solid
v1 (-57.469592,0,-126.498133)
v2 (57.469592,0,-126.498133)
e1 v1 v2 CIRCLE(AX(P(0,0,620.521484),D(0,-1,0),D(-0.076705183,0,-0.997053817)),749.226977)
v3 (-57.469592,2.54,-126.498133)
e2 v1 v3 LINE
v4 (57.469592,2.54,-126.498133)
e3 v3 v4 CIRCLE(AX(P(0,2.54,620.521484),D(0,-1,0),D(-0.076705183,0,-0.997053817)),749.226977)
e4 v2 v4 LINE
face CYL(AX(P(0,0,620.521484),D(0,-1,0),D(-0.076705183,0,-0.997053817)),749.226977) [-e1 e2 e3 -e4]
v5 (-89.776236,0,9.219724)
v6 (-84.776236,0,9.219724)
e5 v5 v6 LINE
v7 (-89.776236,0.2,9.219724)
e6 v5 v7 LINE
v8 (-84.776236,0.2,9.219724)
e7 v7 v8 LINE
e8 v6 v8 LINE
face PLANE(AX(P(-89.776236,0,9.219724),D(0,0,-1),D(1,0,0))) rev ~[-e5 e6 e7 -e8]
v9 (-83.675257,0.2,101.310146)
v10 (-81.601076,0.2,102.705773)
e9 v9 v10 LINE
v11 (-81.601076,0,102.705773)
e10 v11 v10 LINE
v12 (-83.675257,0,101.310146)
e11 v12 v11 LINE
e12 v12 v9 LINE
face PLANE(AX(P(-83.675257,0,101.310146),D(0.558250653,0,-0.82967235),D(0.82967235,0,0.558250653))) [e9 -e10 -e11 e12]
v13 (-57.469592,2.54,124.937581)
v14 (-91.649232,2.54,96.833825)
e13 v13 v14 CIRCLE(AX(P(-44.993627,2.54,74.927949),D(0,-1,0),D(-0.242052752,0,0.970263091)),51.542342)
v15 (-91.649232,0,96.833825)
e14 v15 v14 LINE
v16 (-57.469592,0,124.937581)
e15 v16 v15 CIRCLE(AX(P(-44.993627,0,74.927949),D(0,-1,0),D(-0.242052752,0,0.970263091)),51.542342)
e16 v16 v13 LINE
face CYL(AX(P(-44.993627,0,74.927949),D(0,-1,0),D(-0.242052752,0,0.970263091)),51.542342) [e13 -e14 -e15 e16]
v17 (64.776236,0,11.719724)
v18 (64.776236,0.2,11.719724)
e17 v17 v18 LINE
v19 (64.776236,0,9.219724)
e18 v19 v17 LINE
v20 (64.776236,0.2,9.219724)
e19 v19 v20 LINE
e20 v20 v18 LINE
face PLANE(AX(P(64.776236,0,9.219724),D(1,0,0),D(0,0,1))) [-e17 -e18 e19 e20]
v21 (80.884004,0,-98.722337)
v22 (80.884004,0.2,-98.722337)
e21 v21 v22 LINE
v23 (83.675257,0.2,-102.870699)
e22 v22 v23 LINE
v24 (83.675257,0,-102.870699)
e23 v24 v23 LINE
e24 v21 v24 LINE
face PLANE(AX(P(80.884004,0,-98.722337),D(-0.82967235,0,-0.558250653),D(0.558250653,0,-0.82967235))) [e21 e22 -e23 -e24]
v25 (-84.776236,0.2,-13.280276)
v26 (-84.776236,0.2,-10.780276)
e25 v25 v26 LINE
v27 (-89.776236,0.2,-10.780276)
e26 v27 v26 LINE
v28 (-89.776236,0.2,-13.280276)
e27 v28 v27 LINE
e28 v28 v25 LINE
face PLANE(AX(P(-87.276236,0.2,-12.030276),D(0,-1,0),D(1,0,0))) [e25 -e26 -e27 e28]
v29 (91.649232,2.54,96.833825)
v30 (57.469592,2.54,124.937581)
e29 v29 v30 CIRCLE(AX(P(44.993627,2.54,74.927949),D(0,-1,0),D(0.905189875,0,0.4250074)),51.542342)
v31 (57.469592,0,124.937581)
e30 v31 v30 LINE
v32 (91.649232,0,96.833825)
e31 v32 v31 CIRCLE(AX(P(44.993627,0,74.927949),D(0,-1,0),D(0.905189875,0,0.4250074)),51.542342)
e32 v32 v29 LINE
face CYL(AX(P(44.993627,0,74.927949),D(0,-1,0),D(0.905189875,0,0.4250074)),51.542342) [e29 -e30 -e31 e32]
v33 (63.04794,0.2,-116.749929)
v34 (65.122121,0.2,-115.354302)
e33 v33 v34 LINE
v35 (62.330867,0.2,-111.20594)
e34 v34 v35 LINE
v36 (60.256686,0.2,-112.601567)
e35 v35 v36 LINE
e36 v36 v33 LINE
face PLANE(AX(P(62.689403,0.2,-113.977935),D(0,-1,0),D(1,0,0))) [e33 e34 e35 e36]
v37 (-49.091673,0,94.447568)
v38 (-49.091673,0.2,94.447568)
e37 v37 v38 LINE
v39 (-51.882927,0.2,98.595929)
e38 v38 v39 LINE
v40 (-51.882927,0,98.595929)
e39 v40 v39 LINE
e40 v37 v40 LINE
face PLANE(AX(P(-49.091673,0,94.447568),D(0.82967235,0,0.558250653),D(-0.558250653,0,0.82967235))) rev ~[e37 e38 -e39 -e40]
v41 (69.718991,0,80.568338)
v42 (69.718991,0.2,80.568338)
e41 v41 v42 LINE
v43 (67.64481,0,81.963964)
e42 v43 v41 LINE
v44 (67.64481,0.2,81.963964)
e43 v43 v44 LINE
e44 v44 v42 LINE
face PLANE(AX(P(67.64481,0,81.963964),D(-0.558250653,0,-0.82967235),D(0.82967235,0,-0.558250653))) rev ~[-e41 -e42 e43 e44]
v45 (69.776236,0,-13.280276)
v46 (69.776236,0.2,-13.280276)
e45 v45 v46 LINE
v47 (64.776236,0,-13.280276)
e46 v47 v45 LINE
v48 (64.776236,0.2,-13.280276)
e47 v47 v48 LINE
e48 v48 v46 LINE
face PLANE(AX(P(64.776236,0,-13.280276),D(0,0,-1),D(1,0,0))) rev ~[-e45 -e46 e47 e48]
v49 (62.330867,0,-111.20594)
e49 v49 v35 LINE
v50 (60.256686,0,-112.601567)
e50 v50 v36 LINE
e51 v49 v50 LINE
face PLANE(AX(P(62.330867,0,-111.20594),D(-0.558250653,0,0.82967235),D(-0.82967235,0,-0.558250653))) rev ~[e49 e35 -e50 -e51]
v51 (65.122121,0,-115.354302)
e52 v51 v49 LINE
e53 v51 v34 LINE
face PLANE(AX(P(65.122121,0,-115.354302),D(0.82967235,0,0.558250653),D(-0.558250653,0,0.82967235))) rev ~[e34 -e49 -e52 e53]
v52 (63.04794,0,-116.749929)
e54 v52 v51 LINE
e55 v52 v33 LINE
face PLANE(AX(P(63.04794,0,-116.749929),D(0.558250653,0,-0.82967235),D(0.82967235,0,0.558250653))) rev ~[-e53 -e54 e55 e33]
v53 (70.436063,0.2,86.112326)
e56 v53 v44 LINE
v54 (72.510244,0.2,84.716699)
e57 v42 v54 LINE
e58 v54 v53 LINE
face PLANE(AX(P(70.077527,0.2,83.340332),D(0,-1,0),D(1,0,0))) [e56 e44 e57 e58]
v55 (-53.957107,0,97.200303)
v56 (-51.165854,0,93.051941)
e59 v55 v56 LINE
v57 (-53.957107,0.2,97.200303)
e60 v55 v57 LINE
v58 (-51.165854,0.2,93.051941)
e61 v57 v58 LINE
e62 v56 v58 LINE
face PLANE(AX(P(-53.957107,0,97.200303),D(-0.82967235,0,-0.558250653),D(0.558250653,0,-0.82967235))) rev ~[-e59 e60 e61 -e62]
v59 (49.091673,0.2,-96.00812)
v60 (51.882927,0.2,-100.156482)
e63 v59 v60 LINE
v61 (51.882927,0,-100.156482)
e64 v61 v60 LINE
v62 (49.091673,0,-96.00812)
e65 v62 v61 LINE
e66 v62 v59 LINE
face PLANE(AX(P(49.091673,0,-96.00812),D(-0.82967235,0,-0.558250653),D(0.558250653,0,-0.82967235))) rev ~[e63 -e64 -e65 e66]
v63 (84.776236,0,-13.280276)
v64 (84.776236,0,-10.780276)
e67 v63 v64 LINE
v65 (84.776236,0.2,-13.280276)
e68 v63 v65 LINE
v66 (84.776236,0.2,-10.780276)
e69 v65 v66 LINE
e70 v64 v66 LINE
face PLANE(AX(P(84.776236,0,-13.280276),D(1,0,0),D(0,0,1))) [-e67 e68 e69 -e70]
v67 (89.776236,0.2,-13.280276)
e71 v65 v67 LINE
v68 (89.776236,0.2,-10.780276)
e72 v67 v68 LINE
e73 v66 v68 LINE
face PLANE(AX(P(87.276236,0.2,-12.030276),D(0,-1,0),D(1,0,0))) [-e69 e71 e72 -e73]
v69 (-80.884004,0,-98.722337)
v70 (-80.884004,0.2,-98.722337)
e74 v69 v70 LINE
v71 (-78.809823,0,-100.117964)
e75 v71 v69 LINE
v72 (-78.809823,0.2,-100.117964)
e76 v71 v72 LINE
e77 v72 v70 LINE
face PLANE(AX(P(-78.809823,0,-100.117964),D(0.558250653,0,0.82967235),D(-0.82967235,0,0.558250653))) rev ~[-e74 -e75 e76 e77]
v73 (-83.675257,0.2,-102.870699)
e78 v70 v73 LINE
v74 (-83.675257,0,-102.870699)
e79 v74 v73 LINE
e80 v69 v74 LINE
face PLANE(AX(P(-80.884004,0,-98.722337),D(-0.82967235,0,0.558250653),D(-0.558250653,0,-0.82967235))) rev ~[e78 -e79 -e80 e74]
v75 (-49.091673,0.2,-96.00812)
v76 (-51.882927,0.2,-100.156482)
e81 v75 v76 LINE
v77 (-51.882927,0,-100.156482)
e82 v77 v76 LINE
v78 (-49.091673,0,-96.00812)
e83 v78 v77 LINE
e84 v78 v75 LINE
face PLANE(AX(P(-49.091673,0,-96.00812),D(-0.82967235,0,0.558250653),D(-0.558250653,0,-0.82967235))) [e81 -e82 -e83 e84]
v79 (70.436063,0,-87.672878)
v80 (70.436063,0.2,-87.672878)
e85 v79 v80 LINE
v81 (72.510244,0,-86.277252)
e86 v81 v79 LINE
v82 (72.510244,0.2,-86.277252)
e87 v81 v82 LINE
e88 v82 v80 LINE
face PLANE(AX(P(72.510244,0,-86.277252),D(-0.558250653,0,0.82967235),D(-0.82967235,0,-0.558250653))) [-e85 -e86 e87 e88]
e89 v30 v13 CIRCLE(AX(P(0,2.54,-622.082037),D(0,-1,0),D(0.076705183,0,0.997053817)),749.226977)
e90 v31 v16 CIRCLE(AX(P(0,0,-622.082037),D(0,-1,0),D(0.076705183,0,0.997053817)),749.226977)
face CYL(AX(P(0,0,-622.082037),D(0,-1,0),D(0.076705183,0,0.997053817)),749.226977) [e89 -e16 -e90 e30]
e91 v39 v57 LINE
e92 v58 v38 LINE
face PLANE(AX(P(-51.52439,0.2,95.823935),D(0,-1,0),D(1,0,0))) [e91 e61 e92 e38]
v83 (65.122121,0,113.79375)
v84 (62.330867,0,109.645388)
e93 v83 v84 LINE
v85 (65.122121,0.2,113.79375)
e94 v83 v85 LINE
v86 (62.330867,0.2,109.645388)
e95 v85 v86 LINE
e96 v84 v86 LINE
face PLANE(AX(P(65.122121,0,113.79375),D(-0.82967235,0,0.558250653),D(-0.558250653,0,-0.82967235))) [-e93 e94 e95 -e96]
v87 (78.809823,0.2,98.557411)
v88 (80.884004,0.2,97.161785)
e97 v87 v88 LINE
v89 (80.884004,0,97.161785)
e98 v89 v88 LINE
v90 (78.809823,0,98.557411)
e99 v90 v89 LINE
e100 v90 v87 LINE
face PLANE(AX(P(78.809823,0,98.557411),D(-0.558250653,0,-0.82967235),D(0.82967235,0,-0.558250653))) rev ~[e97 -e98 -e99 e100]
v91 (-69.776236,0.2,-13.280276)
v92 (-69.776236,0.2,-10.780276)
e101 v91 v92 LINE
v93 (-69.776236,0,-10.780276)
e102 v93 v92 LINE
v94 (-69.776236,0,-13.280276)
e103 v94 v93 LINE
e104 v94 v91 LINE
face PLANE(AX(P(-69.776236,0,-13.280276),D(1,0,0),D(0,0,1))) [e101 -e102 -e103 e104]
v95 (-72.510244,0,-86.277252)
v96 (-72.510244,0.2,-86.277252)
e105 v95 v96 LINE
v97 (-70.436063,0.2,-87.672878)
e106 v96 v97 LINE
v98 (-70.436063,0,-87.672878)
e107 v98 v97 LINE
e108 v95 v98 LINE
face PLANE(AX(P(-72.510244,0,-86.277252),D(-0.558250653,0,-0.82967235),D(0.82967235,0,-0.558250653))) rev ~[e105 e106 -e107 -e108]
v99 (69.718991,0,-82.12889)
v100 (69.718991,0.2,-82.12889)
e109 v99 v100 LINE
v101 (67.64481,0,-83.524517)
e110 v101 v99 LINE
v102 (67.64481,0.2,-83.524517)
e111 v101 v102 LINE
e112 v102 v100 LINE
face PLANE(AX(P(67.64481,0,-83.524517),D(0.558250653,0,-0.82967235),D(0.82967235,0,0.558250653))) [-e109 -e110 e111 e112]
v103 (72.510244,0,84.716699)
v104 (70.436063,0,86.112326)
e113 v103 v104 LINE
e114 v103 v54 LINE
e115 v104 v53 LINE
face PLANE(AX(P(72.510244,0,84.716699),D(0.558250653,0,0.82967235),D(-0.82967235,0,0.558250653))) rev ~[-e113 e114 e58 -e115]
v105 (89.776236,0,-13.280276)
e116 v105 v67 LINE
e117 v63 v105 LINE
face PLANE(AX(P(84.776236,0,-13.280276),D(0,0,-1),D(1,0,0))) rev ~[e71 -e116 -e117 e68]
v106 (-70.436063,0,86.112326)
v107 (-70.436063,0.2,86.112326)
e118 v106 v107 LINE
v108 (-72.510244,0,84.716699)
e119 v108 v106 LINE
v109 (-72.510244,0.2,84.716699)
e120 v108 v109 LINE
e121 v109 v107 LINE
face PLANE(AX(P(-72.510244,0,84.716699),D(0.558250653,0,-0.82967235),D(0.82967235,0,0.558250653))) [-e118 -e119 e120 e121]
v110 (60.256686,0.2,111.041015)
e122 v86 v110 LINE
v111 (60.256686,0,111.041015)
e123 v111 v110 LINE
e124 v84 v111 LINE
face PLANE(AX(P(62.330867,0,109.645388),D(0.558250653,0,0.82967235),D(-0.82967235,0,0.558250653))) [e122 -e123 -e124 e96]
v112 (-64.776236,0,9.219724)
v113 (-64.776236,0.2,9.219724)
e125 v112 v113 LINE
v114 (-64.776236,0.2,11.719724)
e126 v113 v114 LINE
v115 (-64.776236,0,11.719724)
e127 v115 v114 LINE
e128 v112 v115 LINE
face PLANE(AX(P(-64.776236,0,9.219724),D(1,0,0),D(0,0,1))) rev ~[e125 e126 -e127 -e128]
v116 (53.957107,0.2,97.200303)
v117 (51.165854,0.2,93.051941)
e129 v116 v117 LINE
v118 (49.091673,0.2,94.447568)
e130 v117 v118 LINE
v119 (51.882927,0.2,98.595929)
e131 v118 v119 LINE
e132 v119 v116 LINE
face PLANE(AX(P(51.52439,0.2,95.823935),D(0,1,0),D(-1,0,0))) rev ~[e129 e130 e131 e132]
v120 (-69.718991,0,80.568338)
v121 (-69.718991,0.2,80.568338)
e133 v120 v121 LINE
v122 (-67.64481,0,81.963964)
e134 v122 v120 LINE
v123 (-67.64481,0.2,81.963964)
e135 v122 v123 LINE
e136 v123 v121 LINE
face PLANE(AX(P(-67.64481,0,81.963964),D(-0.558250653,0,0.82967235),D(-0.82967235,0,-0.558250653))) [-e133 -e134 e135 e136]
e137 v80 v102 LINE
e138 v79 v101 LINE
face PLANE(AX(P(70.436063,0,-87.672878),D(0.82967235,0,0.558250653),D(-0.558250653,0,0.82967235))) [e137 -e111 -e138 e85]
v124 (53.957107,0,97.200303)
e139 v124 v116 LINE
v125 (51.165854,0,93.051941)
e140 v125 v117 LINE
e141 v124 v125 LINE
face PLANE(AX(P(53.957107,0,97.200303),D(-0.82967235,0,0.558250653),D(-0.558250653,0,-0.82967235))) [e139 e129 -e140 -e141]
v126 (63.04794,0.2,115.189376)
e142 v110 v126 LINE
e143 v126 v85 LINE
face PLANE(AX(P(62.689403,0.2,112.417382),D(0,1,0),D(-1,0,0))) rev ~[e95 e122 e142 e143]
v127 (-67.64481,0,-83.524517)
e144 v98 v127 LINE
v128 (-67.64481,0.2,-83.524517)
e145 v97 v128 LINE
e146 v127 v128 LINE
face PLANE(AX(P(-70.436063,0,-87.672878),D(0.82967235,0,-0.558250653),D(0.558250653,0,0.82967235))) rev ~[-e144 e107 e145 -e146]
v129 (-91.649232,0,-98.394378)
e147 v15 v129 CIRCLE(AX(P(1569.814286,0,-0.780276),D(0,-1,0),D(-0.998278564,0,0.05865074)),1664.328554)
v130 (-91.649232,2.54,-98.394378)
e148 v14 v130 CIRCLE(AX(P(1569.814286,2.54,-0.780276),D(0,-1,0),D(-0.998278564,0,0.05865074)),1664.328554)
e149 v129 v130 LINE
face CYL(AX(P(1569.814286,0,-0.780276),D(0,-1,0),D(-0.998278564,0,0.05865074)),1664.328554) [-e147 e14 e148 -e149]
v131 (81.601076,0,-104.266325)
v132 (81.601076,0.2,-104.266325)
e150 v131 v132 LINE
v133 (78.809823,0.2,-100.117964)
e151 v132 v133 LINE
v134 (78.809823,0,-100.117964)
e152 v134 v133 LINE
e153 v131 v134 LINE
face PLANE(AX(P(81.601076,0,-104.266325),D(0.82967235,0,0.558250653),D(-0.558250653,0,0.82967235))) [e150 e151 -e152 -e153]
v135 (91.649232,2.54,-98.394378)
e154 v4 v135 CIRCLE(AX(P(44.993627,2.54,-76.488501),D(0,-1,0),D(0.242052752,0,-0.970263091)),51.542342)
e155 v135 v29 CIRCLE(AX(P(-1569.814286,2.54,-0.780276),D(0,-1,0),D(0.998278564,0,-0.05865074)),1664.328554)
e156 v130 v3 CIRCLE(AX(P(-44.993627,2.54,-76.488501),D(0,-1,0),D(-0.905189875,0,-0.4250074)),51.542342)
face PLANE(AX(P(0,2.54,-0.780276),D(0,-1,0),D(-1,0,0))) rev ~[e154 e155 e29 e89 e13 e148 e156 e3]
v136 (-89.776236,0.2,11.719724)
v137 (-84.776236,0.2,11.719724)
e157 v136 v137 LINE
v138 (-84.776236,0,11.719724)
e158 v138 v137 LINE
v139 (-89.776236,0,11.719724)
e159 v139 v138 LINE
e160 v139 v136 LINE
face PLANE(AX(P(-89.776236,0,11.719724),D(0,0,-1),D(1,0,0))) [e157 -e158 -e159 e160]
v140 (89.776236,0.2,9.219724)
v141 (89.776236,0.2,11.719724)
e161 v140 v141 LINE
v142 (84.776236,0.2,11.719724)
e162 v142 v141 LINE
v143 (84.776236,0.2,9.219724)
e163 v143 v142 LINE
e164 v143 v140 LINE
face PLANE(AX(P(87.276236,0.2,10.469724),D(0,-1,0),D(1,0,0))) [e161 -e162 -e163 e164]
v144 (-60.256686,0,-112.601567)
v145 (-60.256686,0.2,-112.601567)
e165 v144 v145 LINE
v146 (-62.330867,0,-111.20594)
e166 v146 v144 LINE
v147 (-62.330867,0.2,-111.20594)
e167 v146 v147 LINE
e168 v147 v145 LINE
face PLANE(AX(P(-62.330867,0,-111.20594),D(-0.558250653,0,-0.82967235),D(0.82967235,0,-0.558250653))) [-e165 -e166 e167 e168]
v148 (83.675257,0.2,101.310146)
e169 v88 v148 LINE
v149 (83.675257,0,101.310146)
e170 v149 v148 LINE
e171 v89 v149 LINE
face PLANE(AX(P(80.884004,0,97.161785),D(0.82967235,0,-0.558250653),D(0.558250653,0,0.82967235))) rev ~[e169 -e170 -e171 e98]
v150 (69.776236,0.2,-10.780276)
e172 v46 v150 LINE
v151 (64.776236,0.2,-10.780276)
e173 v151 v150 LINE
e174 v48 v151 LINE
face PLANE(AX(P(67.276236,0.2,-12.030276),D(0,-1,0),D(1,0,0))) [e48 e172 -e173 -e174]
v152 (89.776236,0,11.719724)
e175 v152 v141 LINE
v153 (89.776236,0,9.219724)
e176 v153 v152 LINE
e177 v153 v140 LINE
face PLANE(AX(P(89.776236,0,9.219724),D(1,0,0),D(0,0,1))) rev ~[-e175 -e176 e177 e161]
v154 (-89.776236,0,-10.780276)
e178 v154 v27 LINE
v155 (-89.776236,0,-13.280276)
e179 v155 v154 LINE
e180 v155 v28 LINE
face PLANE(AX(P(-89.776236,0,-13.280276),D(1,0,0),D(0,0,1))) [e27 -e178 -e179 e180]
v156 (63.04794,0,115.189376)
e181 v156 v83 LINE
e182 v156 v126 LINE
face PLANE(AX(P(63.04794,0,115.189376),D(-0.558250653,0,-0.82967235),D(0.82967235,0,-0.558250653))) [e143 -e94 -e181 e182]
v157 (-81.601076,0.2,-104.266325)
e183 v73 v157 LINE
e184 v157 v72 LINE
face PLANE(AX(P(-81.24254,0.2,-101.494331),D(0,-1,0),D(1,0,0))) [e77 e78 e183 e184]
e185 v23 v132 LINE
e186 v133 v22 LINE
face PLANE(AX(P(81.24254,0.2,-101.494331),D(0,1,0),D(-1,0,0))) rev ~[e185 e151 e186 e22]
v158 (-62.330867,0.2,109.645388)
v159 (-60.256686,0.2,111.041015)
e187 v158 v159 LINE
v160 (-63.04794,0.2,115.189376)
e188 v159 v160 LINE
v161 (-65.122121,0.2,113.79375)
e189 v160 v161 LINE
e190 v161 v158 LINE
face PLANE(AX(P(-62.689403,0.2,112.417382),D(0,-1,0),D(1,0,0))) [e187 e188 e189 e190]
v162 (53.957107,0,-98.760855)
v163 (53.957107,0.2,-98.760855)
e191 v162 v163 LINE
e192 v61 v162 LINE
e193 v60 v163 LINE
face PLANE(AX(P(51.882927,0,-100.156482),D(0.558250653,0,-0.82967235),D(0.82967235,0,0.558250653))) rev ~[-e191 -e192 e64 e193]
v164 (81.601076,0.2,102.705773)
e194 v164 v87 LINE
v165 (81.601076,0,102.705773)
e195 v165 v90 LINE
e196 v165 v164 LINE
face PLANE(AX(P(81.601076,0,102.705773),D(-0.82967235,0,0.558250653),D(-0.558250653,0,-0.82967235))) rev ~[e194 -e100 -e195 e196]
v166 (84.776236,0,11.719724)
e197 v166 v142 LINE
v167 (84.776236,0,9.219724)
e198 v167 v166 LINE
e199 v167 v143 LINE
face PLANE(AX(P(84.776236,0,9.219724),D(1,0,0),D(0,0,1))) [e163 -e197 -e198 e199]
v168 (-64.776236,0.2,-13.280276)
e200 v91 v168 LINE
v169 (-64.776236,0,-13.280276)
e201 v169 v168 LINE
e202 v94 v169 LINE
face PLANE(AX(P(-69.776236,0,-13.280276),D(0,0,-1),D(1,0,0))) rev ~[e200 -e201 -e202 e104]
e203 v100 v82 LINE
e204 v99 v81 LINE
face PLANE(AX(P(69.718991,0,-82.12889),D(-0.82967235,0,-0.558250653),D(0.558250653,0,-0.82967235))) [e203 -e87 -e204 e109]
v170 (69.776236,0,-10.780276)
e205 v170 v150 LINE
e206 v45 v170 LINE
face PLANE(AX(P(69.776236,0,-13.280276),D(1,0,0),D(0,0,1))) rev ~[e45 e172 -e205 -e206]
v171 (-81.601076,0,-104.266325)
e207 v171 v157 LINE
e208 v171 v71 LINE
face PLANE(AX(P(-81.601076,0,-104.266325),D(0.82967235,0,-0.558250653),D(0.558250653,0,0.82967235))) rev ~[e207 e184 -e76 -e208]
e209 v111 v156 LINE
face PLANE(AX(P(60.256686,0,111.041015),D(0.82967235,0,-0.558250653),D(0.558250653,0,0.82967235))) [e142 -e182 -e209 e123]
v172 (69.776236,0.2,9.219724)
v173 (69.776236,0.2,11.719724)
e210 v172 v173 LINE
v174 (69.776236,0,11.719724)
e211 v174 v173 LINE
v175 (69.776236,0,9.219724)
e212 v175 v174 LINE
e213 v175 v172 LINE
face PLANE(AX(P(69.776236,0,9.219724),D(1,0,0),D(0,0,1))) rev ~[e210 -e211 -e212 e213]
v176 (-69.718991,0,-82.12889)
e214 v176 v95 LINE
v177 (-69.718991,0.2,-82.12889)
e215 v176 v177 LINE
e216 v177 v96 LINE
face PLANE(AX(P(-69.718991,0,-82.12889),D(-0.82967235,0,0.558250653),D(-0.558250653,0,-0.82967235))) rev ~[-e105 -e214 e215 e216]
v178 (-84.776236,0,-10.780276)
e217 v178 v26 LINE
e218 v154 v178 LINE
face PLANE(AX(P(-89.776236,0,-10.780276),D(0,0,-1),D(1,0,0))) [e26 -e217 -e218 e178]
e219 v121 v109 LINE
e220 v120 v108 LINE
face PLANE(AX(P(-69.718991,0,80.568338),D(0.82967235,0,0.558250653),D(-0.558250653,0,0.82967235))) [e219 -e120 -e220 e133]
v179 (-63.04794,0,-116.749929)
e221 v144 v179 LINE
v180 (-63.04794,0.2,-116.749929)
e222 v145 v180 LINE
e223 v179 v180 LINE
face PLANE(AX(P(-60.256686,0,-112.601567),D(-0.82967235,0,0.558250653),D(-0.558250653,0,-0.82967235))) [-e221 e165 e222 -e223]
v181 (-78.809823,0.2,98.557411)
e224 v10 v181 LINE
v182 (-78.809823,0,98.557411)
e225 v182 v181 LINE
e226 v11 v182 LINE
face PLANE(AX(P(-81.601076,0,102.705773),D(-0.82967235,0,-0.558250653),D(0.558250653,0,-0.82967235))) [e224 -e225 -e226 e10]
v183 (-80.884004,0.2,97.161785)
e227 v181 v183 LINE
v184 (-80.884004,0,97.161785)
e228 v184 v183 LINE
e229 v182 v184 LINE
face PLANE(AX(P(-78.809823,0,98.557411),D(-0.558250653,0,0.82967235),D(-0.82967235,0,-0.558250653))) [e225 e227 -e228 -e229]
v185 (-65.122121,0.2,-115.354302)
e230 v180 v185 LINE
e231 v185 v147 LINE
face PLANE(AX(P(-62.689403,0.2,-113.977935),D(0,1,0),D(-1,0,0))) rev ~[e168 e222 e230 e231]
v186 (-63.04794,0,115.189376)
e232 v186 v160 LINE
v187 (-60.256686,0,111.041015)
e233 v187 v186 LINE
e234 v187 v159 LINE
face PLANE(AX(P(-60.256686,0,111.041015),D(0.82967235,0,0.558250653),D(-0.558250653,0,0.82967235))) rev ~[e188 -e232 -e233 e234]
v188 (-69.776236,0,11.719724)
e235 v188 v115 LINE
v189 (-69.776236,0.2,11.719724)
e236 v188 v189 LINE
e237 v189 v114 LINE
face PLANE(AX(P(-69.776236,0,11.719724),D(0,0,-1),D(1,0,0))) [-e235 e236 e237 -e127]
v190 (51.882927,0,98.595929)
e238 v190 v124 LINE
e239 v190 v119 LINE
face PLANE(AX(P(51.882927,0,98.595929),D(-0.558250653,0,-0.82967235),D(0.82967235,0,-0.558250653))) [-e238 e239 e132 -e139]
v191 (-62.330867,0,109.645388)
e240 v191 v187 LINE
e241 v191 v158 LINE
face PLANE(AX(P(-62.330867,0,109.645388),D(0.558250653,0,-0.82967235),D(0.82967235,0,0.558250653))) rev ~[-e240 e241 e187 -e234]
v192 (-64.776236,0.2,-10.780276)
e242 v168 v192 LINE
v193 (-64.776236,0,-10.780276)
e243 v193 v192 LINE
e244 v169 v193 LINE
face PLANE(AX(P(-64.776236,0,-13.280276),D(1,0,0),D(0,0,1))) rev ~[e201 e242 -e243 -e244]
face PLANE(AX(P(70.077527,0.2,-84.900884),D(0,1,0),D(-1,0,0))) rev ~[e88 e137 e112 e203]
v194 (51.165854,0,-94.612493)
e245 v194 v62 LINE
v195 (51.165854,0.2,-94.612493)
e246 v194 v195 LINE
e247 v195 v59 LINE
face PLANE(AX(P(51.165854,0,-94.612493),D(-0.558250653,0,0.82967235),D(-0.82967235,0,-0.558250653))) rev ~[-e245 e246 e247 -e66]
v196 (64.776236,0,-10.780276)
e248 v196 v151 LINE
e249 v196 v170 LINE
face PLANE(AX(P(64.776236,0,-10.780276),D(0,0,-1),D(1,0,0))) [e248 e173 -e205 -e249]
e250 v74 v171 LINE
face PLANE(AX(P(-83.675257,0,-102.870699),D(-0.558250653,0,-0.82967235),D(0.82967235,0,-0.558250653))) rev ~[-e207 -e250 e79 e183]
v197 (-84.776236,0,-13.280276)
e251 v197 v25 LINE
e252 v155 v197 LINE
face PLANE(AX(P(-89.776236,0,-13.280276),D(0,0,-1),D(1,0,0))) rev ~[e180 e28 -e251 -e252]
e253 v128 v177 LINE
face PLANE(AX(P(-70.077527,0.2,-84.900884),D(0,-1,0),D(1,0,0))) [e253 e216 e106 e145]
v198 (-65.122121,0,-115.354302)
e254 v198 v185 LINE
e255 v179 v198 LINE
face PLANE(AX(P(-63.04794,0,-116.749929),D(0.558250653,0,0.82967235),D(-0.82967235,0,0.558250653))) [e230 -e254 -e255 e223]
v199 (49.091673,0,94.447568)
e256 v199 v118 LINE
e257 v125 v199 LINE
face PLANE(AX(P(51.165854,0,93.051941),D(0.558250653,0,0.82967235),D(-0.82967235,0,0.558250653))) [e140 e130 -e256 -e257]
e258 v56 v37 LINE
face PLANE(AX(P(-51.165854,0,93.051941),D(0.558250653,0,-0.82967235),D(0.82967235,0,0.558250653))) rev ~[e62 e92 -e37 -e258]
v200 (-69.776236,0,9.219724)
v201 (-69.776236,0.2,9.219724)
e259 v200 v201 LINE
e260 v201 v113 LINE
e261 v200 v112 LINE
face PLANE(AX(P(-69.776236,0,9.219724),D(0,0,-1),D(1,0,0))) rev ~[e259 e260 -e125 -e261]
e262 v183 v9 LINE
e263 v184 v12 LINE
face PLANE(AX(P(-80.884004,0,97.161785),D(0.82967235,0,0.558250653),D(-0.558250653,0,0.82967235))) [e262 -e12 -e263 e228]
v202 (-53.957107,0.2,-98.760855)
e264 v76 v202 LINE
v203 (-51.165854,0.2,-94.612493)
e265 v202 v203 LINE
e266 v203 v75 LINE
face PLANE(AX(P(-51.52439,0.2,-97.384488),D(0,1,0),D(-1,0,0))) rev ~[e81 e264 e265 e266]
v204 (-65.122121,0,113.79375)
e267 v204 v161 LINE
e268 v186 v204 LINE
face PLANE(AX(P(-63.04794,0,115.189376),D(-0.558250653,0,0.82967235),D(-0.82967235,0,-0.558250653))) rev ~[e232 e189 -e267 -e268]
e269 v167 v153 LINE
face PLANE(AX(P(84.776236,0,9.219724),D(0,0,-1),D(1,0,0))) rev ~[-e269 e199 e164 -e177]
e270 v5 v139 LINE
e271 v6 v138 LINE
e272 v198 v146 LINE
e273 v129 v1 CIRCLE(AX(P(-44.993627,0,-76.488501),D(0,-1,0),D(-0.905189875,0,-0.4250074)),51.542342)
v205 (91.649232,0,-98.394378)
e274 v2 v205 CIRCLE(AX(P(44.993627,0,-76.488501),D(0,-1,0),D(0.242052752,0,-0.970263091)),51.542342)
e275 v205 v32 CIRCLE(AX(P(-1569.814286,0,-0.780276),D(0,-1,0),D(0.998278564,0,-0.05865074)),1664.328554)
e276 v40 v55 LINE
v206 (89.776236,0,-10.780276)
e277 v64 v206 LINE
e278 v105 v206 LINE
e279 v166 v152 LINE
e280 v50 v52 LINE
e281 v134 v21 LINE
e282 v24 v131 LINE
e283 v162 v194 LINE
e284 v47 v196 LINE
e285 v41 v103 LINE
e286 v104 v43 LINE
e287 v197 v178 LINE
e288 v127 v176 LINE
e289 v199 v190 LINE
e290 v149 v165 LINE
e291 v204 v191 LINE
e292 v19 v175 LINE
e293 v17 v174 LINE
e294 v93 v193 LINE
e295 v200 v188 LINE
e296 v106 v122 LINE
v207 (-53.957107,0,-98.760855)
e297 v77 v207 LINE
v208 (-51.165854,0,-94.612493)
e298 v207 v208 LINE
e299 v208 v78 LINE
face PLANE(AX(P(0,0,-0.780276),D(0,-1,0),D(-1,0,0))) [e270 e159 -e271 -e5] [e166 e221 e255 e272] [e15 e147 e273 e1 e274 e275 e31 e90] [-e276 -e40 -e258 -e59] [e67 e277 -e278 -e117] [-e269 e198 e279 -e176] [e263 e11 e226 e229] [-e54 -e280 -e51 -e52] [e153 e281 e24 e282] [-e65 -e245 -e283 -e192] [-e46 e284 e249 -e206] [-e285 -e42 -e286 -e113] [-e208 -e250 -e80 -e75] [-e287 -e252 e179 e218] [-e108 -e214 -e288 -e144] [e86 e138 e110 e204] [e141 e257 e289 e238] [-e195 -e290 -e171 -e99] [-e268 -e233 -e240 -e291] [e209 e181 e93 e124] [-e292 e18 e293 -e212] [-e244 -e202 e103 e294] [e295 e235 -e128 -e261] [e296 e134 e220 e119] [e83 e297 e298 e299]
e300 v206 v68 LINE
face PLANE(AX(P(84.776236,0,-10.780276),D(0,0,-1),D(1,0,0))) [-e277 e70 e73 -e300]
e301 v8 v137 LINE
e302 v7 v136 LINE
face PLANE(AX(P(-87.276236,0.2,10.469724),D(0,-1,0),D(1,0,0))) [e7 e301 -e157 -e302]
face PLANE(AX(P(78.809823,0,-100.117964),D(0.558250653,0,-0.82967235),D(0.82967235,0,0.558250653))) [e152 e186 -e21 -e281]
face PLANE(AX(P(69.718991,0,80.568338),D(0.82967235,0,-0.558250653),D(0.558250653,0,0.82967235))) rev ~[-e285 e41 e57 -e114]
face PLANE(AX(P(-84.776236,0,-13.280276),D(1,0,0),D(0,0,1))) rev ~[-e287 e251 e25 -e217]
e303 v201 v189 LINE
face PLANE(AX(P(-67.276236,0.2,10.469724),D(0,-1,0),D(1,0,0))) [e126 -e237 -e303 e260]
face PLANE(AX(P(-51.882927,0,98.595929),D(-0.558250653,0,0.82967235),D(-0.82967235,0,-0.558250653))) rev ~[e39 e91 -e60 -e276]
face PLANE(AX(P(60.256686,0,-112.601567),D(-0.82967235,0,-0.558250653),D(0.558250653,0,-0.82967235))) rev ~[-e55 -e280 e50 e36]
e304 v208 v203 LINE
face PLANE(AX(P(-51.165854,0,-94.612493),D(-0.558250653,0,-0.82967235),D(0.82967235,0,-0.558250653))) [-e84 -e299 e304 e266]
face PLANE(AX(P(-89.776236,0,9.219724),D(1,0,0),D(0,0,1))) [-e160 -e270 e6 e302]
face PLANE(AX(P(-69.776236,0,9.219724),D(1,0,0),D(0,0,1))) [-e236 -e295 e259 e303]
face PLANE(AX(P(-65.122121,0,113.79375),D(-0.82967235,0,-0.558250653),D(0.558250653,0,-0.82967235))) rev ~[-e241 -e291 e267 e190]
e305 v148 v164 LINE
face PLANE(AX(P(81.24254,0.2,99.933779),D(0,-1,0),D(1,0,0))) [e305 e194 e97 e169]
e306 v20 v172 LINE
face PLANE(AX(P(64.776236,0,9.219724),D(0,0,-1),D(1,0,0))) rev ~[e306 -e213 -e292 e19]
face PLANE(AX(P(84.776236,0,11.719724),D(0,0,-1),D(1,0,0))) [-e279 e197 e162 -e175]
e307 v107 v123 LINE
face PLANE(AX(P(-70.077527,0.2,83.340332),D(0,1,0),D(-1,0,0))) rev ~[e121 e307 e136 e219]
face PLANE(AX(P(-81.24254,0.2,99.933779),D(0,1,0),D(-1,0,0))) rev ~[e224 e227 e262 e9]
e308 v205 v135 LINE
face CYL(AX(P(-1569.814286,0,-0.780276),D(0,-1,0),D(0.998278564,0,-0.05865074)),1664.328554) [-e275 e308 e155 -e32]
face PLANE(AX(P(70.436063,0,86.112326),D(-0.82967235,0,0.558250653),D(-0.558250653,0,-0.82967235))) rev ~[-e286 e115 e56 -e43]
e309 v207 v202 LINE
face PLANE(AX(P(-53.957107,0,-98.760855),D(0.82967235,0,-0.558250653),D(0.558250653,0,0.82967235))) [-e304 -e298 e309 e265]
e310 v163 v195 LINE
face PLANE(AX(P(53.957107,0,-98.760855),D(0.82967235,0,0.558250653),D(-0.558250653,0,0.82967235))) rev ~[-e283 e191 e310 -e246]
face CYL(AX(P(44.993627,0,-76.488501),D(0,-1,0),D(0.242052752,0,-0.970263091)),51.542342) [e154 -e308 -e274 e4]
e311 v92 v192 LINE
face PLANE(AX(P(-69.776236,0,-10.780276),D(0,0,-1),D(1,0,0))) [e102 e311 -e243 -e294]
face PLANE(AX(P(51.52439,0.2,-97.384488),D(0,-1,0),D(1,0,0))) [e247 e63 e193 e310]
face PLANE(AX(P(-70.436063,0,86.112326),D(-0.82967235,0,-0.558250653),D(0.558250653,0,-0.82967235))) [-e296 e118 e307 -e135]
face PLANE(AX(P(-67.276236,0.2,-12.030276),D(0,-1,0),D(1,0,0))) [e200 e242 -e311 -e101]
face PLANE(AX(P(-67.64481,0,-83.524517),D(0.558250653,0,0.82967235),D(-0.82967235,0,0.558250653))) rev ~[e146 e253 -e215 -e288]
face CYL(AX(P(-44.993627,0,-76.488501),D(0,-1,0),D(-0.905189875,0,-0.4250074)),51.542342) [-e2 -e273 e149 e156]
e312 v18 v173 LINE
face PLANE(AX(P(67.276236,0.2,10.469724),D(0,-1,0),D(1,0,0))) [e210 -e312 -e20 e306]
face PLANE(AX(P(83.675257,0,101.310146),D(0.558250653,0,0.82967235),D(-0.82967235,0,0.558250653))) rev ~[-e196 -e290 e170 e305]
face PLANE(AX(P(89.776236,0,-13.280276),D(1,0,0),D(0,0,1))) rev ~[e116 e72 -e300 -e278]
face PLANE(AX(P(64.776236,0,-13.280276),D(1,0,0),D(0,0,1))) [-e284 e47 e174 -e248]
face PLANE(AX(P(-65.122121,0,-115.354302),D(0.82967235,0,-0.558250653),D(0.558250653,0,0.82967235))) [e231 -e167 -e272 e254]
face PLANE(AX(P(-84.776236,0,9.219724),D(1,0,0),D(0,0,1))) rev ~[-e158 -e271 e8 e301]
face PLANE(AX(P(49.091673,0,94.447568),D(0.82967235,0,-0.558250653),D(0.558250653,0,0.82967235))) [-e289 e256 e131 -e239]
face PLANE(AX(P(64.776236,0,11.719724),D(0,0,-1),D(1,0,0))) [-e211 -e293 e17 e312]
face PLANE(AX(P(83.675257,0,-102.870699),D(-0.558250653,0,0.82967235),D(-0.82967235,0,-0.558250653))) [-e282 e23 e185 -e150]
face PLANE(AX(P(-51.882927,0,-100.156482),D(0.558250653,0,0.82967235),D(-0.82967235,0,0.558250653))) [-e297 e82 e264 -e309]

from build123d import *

# Parameters (mm, degrees)
BOSS_EXTRUDE1_DEPTH = 2.54
SKETCH6_W           = 5
SKETCH6_H           = 2.5
CUT_EXTRUDE2_DEPTH  = 0.2


with BuildPart() as part:
    # Sketch3 → Boss-Extrude1 (new body)
    with BuildSketch(Plane(origin=(0, 0, 0), x_dir=(1, 0, 0), z_dir=(0, 1, 0))):
        with BuildLine():
            ThreePointArc((-91.6492325, -96.833825344), (-94.514268143, 0.78027625), (-91.6492325, 98.394377843))
            ThreePointArc((-91.6492325, 98.394377843), (-77.728790436, 116.300836492), (-57.46959223, 126.498133029))
            ThreePointArc((-57.46959223, 126.498133029), (0, 128.705492461), (57.46959223, 126.498133029))
            ThreePointArc((57.46959223, 126.498133029), (77.728790436, 116.300836492), (91.6492325, 98.394377843))
            ThreePointArc((91.6492325, 98.394377843), (94.514268143, 0.78027625), (91.6492325, -96.833825344))
            ThreePointArc((91.6492325, -96.833825344), (77.728790436, -114.740283992), (57.46959223, -124.937580529))
            ThreePointArc((57.46959223, -124.937580529), (0, -127.144939961), (-57.46959223, -124.937580529))
            ThreePointArc((-57.46959223, -124.937580529), (-77.728790436, -114.740283992), (-91.6492325, -96.833825344))
        make_face()
    extrude(amount=BOSS_EXTRUDE1_DEPTH)

    # Sketch6 → Cut-Extrude2 (cut)
    with BuildSketch(Plane.XZ):
        Polygon((-80.884003768, 97.161784557), (-83.675257034, 101.310146306), (-81.601076159, 102.705772939), (-78.809822893, 98.55741119), align=None)
        Polygon((-60.2566864, 111.041014588), (-63.047939666, 115.189376338), (-65.122120541, 113.793749705), (-62.330867275, 109.645387955), align=None)
        Polygon((-67.644809829, 81.963964192), (-69.718990703, 80.568337559), (-72.510243969, 84.716699309), (-70.436063095, 86.112325942), align=None)
        Polygon((-51.16585421, 93.051940957), (-49.091673336, 94.44756759), (-51.882926602, 98.59592934), (-53.957107476, 97.200302707), align=None)
        Polygon((51.882926602, 98.59592934), (53.957107476, 97.200302707), (51.16585421, 93.051940957), (49.091673336, 94.44756759), align=None)
        Polygon((65.122120541, 113.793749705), (62.330867275, 109.645387955), (60.2566864, 111.041014588), (63.047939666, 115.189376338), align=None)
        Polygon((67.644809829, 81.963964192), (69.718990703, 80.568337559), (72.510243969, 84.716699309), (70.436063095, 86.112325942), align=None)
        Polygon((80.884003768, 97.161784557), (83.675257034, 101.310146306), (81.601076159, 102.705772939), (78.809822893, 98.55741119), align=None)
        with Locations((67.276236393, 10.46972375)):
            Rectangle(SKETCH6_W, SKETCH6_H)
        with Locations((87.276236393, 10.46972375)):
            Rectangle(SKETCH6_W, SKETCH6_H)
        with Locations((67.276236393, -12.03027625)):
            Rectangle(SKETCH6_W, SKETCH6_H)
        with Locations((87.276236393, -12.03027625)):
            Rectangle(SKETCH6_W, SKETCH6_H)
        Polygon((72.510243969, -86.277251808), (70.436063095, -87.672878441), (67.644809829, -83.524516692), (69.718990703, -82.128890059), align=None)
        Polygon((81.601076159, -104.266325439), (78.809822893, -100.11796369), (80.884003768, -98.722337057), (83.675257034, -102.870698806), align=None)
        Polygon((60.2566864, -112.601567088), (63.047939666, -116.749928837), (65.122120541, -115.354302204), (62.330867275, -111.205940455), align=None)
        Polygon((51.16585421, -94.612493457), (49.091673336, -96.00812009), (51.882926602, -100.15648184), (53.957107476, -98.760855207), align=None)
        Polygon((-65.122120541, -115.354302204), (-62.330867275, -111.205940455), (-60.2566864, -112.601567088), (-63.047939666, -116.749928837), align=None)
        Polygon((-51.882926602, -100.15648184), (-53.957107476, -98.760855207), (-51.16585421, -94.612493457), (-49.091673336, -96.00812009), align=None)
        Polygon((-80.884003768, -98.722337057), (-83.675257034, -102.870698806), (-81.601076159, -104.266325439), (-78.809822893, -100.11796369), align=None)
        Polygon((-67.644809829, -83.524516692), (-69.718990703, -82.128890059), (-72.510243969, -86.277251808), (-70.436063095, -87.672878441), align=None)
        with Locations((-67.276236393, 10.46972375)):
            Rectangle(SKETCH6_W, SKETCH6_H)
        with Locations((-67.276236393, -12.03027625)):
            Rectangle(SKETCH6_W, SKETCH6_H)
        with Locations((-87.276236393, -12.03027625)):
            Rectangle(SKETCH6_W, SKETCH6_H)
        with Locations((-87.276236393, 10.46972375)):
            Rectangle(SKETCH6_W, SKETCH6_H)
    extrude(amount=-CUT_EXTRUDE2_DEPTH, mode=Mode.SUBTRACT)


solid = part.part
